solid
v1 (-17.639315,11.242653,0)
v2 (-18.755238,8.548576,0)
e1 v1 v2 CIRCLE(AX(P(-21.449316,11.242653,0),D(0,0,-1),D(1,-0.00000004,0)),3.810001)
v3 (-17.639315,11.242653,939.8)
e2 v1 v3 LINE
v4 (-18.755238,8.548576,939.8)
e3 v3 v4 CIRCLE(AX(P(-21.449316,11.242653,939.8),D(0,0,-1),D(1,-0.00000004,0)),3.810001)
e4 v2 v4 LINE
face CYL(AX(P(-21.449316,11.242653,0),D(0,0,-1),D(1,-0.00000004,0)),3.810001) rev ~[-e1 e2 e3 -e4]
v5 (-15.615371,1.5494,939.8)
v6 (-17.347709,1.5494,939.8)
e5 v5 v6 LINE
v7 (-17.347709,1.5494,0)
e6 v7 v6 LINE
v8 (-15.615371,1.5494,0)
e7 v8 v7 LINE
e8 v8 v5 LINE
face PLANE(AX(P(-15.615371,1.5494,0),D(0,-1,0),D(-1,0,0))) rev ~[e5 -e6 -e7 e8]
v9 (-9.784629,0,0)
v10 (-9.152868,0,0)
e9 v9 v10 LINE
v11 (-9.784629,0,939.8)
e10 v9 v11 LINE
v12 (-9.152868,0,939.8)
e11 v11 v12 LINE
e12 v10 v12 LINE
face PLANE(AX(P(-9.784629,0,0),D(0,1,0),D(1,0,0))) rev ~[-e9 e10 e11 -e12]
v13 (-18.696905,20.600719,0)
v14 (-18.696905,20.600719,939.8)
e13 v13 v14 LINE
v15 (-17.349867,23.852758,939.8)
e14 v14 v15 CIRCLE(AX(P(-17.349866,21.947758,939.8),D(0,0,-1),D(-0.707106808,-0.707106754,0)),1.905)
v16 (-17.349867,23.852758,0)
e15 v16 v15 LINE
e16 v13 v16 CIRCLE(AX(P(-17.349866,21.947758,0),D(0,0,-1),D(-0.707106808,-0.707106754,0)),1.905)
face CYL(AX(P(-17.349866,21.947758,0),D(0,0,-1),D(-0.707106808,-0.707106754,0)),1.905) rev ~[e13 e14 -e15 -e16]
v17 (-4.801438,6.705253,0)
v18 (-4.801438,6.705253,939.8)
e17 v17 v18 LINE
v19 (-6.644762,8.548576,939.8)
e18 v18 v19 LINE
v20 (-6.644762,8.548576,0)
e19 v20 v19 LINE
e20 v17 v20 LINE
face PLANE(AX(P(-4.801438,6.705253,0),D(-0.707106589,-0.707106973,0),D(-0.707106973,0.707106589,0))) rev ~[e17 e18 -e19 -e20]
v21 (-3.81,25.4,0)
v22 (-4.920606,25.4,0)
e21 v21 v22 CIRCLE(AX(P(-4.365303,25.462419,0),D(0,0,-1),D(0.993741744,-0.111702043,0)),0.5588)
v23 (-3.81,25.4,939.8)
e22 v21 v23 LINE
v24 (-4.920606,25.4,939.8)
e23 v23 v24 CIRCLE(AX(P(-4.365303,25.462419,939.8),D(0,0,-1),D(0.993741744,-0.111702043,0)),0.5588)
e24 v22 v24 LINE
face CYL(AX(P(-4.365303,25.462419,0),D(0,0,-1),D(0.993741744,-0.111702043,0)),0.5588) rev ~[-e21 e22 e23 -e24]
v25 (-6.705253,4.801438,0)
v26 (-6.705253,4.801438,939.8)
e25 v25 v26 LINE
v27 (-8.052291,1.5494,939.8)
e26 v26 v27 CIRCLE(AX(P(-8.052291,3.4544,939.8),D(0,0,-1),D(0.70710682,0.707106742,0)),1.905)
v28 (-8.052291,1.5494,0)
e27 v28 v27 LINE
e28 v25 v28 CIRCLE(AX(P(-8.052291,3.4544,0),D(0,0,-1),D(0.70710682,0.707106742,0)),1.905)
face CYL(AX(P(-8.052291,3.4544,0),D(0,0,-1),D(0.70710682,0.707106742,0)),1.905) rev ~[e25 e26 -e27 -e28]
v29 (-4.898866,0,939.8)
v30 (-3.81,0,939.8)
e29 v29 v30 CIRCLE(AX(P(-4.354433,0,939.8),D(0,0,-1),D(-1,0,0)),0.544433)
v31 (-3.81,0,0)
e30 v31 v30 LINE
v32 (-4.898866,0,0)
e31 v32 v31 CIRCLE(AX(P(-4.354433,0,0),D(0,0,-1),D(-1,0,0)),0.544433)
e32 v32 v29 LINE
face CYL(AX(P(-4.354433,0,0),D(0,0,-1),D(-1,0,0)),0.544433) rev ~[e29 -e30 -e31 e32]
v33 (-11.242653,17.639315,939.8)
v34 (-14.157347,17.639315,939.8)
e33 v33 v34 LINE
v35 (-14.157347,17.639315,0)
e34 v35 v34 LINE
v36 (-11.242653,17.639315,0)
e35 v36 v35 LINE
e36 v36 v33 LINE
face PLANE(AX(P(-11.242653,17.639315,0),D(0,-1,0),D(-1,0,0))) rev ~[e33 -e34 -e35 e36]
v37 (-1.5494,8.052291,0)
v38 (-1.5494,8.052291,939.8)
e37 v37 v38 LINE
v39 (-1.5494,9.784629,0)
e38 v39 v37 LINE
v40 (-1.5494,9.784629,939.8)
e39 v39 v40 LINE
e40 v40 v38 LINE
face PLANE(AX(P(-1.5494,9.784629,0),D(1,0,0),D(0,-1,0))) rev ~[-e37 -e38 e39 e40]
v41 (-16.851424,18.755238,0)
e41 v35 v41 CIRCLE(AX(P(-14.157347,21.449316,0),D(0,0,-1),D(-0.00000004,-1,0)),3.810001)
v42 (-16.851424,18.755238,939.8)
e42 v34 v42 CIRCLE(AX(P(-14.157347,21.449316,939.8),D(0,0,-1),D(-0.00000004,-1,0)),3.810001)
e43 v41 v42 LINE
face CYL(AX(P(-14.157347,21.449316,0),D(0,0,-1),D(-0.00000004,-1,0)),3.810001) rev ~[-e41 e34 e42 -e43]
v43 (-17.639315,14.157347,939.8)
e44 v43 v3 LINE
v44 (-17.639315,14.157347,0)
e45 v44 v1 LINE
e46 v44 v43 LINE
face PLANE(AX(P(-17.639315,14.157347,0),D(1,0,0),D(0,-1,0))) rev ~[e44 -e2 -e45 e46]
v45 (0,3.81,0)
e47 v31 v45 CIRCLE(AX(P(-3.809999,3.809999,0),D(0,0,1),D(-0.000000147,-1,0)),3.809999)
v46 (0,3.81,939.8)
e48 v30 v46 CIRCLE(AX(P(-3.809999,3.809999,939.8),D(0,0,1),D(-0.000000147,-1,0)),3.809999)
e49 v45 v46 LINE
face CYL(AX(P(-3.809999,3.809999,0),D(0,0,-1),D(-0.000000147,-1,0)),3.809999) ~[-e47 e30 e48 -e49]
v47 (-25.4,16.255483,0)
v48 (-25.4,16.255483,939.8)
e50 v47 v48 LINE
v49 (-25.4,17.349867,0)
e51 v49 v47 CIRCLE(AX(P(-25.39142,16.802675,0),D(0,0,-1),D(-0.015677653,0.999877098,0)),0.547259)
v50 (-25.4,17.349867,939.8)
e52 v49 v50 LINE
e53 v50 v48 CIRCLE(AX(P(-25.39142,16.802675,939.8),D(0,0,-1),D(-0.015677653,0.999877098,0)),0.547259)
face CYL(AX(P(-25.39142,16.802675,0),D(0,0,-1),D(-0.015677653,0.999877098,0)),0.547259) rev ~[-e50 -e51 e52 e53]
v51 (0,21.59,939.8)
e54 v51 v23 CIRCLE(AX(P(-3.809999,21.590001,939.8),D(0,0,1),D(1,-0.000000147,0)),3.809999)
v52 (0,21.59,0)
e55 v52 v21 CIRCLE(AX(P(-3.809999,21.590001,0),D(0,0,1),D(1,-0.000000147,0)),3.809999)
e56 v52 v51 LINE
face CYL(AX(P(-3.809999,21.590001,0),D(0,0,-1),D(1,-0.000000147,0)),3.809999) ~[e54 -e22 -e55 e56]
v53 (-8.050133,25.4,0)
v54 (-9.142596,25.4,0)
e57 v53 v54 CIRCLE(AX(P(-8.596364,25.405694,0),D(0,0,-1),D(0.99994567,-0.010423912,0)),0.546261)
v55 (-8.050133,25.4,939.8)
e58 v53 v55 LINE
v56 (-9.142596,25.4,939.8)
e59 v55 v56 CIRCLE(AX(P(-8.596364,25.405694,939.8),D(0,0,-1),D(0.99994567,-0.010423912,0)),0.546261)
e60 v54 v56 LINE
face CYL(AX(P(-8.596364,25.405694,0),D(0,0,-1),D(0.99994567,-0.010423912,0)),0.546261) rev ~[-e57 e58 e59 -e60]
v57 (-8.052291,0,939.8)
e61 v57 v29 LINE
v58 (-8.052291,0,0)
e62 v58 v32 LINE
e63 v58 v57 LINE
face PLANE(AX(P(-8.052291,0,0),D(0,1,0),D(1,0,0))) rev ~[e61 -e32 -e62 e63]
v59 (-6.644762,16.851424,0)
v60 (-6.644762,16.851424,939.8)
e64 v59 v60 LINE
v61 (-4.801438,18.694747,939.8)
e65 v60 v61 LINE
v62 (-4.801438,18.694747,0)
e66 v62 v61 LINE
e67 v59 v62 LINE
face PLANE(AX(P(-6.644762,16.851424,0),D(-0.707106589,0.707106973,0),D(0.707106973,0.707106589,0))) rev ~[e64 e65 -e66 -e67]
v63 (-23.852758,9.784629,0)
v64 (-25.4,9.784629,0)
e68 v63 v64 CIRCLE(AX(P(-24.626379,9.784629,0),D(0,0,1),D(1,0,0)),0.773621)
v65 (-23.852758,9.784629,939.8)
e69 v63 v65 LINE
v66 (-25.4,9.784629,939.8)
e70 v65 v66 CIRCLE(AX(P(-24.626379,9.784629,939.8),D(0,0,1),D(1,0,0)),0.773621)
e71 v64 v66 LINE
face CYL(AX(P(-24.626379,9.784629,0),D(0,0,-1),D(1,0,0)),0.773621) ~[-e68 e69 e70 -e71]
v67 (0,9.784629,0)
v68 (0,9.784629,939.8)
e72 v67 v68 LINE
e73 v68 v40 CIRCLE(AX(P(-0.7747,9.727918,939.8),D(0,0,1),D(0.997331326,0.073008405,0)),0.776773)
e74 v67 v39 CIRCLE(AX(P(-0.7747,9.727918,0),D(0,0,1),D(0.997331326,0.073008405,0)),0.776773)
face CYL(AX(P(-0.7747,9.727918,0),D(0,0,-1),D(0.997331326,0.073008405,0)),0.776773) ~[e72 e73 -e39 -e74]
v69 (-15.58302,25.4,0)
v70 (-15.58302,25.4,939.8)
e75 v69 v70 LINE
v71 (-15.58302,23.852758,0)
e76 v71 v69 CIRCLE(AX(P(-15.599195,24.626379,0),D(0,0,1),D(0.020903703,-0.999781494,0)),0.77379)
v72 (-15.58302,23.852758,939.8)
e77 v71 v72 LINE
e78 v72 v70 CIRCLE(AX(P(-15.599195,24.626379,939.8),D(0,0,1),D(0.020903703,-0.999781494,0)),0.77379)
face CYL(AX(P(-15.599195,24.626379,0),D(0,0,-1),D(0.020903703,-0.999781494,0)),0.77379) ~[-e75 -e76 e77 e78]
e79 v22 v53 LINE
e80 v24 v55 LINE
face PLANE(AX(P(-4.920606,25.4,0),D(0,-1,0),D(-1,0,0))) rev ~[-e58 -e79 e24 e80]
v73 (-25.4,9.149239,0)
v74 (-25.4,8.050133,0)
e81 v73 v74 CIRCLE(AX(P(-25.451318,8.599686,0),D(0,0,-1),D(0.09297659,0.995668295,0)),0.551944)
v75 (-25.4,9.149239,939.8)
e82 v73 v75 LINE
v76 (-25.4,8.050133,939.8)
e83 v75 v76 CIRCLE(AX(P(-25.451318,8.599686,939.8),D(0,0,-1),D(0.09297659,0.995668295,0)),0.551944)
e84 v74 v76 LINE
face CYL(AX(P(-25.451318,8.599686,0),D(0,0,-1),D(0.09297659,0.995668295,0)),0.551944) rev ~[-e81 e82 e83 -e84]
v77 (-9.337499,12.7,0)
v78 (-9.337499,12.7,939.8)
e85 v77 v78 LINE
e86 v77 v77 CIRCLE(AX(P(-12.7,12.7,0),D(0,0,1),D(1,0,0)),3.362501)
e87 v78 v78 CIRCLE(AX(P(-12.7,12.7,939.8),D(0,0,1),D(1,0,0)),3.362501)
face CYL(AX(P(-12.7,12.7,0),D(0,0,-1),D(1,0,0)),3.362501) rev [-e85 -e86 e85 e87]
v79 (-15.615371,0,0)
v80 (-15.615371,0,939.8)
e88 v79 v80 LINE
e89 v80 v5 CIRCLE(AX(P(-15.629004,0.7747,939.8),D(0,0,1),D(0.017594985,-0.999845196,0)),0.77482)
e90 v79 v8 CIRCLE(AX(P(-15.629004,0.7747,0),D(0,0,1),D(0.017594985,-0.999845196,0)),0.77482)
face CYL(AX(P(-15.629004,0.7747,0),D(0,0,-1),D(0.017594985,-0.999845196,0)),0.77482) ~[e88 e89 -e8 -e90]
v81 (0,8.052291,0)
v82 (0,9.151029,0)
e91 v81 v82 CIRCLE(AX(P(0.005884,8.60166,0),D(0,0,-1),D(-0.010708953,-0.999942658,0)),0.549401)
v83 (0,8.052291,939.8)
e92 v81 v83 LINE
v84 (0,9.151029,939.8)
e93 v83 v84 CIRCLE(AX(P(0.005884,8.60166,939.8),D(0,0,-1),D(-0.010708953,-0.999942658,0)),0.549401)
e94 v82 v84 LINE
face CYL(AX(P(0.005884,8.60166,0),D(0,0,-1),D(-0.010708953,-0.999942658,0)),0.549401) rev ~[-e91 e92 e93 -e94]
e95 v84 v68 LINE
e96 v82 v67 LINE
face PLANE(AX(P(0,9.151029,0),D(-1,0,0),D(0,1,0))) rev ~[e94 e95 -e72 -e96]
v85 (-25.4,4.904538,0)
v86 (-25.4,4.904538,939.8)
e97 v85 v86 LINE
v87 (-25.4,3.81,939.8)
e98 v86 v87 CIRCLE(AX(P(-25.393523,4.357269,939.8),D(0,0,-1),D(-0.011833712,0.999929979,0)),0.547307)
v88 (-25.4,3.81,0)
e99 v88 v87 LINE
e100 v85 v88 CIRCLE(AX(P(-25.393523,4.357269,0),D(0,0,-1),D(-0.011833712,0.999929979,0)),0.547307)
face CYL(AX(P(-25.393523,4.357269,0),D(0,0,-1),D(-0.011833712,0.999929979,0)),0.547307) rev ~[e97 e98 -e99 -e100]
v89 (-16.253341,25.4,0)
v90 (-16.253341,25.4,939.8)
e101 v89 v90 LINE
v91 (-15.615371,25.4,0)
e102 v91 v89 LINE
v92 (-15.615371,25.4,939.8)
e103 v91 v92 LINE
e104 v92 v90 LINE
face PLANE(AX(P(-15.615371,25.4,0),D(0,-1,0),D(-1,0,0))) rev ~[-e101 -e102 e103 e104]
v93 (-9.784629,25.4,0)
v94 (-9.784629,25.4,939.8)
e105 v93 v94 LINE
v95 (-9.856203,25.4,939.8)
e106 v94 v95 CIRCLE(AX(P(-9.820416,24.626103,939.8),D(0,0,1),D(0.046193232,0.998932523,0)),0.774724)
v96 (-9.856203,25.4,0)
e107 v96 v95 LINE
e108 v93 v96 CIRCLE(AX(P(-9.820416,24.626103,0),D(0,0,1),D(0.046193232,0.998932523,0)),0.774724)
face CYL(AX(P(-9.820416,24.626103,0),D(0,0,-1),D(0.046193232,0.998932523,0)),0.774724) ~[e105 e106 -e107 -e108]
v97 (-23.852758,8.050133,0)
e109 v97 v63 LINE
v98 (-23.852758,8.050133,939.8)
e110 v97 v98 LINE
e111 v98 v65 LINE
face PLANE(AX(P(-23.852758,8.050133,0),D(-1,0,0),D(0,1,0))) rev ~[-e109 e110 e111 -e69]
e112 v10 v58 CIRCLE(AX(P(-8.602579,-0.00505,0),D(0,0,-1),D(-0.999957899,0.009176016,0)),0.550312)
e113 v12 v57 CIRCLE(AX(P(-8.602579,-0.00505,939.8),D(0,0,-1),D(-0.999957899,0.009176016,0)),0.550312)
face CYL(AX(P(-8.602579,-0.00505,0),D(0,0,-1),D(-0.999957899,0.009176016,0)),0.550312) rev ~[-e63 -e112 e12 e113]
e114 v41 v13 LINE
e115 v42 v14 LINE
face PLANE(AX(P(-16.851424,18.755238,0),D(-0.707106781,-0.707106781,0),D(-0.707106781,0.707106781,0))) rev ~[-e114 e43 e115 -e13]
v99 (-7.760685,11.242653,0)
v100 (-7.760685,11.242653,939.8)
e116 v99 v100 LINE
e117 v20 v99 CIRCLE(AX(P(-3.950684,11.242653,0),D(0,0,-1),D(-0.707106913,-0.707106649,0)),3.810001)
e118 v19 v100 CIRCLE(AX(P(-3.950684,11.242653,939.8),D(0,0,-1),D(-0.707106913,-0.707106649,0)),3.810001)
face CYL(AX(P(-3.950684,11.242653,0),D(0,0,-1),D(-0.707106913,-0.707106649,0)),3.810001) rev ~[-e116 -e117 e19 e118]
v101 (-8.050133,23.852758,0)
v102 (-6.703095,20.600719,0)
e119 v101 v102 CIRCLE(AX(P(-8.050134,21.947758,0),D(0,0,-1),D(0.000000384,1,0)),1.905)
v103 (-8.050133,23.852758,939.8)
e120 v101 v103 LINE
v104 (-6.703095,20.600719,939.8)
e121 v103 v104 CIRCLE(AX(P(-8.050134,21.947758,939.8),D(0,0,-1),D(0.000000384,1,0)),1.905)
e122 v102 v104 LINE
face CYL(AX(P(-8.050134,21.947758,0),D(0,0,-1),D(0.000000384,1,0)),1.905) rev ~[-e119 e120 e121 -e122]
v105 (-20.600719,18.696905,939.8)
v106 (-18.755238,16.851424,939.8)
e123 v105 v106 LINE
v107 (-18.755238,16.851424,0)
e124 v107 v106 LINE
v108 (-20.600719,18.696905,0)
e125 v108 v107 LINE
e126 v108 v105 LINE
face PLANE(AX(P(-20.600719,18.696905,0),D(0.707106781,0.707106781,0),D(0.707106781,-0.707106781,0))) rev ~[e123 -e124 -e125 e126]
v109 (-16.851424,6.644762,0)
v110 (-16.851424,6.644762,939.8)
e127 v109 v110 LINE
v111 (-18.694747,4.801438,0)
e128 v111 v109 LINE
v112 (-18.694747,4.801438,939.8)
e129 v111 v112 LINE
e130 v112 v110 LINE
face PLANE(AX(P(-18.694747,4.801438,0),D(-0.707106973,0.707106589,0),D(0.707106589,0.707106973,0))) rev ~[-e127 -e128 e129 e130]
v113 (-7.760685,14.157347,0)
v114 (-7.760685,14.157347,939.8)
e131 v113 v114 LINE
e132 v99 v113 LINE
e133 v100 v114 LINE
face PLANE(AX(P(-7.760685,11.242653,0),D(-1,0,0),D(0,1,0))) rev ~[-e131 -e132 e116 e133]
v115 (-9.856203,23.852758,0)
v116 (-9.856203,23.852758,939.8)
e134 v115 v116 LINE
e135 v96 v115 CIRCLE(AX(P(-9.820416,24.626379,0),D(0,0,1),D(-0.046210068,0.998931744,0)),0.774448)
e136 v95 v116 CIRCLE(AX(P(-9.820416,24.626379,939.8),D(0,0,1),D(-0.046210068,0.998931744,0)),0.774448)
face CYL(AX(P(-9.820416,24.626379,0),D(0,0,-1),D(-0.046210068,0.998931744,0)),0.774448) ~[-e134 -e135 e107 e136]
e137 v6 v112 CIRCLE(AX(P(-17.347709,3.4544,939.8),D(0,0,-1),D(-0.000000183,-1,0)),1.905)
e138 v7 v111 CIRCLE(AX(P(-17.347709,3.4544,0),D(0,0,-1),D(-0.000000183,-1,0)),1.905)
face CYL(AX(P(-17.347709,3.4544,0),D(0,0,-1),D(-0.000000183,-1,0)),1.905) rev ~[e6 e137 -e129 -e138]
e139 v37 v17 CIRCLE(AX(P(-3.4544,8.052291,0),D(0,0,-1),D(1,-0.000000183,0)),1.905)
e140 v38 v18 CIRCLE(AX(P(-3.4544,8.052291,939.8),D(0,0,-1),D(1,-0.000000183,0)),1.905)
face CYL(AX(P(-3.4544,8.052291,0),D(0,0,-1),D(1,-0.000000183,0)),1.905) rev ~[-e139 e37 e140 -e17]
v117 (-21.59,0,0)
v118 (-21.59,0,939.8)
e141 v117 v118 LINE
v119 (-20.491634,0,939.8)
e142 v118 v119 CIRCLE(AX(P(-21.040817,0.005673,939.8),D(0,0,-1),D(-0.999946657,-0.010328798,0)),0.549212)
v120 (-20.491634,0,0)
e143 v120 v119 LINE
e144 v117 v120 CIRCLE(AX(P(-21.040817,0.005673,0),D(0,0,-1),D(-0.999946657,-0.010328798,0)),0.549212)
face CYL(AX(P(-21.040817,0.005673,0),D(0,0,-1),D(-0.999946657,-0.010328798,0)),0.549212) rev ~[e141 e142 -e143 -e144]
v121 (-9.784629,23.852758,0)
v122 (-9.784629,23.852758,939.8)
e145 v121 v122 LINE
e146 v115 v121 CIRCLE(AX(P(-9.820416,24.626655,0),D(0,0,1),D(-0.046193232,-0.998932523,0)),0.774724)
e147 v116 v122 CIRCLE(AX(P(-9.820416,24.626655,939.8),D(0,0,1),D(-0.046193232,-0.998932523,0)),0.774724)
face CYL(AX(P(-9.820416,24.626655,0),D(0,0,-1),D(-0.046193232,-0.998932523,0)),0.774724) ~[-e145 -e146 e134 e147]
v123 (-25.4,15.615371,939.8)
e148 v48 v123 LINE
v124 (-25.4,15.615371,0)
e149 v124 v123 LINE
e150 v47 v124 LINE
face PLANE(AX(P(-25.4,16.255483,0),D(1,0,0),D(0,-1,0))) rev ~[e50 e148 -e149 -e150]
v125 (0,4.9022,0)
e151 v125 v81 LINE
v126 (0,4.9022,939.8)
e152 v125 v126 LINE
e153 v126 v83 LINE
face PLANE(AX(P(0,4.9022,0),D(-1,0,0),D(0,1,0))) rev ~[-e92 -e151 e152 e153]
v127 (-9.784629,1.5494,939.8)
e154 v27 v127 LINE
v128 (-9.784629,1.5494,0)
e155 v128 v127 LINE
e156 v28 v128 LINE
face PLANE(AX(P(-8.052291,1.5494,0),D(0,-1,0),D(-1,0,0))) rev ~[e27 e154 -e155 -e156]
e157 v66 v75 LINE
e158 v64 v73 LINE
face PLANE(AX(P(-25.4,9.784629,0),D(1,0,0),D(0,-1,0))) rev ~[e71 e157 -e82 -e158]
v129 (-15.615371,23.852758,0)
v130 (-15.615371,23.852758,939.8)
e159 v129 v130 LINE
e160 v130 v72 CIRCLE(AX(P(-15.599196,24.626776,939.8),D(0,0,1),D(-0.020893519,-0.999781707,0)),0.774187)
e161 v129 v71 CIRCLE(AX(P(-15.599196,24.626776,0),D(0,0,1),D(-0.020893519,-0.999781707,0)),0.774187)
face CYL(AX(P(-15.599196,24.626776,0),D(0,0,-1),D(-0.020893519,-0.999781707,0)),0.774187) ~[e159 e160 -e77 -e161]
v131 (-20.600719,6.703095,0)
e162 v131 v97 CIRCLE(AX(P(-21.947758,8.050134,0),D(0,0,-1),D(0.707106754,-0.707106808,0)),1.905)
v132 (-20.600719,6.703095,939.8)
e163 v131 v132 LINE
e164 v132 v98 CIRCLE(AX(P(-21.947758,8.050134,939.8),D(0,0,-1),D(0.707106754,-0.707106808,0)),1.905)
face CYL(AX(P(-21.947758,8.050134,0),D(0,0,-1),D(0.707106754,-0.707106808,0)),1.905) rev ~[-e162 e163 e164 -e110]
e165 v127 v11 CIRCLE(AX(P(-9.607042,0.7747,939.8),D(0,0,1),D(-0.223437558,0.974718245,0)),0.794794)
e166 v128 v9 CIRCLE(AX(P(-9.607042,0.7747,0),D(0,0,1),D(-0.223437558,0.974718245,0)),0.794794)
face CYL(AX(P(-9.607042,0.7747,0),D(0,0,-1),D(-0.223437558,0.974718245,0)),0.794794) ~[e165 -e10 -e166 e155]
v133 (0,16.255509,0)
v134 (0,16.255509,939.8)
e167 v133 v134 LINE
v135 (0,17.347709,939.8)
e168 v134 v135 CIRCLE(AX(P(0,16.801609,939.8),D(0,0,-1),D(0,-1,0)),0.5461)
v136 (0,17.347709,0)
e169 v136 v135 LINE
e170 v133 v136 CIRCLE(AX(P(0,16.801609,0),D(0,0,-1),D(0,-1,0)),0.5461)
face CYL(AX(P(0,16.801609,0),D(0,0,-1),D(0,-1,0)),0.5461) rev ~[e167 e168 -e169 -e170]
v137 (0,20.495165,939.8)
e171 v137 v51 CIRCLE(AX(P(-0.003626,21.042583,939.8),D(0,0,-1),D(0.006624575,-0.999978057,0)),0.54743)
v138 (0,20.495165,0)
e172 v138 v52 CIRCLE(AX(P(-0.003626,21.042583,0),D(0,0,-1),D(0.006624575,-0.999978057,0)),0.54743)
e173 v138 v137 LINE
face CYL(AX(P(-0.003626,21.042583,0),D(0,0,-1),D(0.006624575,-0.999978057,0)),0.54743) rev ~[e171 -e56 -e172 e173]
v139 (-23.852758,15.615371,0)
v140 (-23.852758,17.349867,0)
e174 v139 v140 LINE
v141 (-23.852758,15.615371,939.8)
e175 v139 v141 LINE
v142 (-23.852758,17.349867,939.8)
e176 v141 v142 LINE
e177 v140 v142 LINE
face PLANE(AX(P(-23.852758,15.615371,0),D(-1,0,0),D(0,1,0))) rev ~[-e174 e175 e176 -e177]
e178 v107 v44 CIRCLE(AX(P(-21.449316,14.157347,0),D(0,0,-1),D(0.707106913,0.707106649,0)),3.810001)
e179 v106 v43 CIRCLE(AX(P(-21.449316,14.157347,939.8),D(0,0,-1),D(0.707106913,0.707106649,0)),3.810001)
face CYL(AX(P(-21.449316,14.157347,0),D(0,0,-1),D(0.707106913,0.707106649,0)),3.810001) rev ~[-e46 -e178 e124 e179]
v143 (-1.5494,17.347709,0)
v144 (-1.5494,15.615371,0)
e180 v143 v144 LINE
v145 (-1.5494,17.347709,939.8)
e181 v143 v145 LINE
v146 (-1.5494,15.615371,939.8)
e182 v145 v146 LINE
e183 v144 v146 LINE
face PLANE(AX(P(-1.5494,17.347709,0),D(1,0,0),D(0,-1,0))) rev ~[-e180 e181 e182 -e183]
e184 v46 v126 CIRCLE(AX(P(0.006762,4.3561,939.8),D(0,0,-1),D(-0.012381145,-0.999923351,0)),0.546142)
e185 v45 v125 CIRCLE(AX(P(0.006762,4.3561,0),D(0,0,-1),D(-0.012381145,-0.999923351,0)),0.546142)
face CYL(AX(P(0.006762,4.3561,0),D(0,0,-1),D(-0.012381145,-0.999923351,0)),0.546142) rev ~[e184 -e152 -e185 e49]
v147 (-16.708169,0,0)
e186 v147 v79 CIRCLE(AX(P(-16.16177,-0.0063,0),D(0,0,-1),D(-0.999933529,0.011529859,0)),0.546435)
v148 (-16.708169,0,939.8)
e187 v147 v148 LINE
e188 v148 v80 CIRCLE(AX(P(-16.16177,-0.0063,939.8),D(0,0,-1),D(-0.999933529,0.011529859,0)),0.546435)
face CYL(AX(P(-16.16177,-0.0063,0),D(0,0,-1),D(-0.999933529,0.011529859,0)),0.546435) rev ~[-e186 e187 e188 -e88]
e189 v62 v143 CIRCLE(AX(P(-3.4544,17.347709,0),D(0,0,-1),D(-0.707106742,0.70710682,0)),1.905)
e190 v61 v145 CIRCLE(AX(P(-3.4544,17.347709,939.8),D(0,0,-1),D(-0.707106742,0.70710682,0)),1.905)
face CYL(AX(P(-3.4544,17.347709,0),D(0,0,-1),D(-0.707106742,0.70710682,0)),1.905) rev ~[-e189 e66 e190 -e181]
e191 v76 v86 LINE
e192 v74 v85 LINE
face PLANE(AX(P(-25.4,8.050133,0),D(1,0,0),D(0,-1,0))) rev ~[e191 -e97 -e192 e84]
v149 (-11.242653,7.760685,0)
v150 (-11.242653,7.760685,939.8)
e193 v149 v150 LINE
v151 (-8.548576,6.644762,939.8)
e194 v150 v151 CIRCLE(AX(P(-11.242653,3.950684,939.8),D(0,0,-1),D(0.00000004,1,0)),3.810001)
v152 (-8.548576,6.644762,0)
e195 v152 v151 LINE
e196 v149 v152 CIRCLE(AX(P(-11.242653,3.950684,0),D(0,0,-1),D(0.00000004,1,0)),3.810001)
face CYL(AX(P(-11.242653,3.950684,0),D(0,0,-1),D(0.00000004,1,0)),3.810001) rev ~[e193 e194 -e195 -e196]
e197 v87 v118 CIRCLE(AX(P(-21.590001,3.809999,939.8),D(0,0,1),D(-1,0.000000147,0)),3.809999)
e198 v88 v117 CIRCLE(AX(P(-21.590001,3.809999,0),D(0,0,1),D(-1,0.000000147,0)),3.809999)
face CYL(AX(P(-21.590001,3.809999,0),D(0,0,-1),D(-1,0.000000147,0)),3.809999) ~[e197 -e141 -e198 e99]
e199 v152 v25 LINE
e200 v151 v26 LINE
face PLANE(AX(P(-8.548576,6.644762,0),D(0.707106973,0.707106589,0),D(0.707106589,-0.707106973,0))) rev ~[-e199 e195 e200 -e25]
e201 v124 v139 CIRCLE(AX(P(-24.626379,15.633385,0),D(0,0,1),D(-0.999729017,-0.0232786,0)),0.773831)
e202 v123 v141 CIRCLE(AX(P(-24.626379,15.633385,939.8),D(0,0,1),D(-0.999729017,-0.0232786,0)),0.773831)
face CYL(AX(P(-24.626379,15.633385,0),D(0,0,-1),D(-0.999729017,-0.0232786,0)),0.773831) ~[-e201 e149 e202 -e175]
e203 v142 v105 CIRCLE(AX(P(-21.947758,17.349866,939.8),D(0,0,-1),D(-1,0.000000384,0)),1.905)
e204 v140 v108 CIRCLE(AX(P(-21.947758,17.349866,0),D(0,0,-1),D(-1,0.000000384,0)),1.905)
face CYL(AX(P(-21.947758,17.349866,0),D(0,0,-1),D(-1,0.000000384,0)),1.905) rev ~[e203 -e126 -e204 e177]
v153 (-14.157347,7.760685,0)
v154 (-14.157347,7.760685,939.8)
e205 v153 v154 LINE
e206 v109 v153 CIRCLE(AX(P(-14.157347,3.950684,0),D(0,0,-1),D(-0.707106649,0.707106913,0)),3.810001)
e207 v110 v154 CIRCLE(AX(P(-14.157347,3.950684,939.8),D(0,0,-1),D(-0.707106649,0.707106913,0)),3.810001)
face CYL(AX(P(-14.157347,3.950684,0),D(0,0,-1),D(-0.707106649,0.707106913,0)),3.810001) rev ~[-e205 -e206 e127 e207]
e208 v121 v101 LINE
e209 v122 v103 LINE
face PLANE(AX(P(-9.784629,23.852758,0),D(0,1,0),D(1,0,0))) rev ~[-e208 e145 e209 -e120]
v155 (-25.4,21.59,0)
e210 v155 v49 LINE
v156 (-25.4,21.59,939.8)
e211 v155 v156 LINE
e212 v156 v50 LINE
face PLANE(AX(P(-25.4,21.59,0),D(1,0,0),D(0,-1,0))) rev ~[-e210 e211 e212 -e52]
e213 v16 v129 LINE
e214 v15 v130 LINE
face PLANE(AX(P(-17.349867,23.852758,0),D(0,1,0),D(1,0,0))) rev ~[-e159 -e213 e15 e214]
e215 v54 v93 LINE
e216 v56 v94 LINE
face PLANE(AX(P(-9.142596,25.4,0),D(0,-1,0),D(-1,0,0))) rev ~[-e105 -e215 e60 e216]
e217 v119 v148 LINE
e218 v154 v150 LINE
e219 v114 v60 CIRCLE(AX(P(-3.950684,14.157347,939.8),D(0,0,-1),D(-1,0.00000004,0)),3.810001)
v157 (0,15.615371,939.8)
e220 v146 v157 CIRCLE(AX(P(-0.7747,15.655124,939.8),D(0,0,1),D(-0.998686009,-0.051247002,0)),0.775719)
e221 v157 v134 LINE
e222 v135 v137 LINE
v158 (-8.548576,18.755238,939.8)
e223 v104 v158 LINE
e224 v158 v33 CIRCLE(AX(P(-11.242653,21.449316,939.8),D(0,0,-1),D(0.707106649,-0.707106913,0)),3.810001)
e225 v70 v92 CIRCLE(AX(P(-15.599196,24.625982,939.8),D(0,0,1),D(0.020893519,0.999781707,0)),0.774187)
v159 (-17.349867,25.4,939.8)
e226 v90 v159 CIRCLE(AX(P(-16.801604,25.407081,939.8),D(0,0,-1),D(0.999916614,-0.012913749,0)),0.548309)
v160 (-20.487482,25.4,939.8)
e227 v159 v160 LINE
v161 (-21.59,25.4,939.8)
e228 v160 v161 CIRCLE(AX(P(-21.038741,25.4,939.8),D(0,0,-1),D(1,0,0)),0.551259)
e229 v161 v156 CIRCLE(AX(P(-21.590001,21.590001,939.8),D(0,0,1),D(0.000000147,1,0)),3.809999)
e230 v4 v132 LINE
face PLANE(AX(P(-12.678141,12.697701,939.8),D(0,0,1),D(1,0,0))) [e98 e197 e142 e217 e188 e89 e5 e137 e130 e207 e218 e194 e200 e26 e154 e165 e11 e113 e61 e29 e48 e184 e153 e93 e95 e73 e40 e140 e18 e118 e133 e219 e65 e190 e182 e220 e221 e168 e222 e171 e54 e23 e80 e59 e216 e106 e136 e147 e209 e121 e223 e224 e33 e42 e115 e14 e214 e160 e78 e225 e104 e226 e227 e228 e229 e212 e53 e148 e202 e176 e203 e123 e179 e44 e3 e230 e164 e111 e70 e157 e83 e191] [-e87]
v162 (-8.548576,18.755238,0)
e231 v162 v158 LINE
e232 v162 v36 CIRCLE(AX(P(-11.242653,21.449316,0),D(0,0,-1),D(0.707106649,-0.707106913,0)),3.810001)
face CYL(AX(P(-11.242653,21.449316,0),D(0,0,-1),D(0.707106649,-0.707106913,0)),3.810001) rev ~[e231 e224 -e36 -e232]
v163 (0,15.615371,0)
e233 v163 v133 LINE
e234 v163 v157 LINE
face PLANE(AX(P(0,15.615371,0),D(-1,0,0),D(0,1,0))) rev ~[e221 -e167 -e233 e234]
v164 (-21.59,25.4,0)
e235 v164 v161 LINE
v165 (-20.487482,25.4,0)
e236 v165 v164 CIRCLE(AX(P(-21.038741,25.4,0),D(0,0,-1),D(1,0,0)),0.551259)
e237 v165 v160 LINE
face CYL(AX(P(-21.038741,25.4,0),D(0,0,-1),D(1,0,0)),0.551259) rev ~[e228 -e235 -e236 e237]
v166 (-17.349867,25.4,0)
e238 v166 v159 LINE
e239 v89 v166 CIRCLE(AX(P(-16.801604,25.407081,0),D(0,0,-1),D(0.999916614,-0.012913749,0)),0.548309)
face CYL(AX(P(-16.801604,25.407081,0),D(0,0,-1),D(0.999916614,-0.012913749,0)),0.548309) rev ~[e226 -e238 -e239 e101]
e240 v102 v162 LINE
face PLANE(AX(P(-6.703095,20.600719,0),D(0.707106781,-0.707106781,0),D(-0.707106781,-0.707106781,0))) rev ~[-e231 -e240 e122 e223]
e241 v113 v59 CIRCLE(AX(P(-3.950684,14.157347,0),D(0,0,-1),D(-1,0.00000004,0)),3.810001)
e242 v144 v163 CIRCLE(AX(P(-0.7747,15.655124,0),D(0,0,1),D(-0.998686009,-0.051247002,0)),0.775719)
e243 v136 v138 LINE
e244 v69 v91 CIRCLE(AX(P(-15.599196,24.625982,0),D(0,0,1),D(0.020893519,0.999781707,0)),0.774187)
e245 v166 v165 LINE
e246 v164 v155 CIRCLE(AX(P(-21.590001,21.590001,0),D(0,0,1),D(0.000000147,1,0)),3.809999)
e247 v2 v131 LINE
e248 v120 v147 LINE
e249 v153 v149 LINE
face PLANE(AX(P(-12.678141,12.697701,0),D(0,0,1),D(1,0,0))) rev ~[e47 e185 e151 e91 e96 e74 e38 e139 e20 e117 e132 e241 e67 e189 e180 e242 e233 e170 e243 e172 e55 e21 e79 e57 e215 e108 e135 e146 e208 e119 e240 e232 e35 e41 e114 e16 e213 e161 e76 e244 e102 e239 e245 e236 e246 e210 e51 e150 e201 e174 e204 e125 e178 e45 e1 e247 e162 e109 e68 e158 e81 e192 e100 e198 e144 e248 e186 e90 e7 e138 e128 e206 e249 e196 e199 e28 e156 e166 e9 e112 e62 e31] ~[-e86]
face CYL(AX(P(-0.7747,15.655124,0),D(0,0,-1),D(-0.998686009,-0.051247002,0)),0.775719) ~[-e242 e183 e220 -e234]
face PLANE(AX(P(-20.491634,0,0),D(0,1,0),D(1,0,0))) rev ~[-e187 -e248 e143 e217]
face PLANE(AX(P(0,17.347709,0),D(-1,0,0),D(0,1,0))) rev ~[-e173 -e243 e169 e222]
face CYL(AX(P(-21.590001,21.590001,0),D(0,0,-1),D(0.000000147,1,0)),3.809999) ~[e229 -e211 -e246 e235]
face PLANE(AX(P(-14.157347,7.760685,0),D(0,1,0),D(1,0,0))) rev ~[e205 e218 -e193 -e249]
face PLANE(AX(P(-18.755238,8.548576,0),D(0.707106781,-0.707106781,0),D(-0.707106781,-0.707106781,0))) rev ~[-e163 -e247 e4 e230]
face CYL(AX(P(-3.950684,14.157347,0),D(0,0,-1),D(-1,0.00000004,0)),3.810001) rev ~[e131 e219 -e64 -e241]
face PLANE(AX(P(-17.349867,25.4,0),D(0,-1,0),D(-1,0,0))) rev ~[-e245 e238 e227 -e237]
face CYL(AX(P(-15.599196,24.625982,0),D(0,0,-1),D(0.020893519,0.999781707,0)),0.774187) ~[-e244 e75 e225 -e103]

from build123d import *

# Parameters (mm, degrees)
F0_R     = 3.362501
F1_DEPTH = 939.8


with BuildPart() as f1:
    # F0 (on Top) → F1 (new body)
    with BuildSketch(Plane.XY):
        with BuildLine():
            ThreePointArc((-8.548576, 18.755238), (-9.784629, 17.929334), (-11.242653, 17.639315))
            Line((-11.242653, 17.639315), (-14.157347, 17.639315))
            ThreePointArc((-14.157347, 17.639315), (-15.615371, 17.929334), (-16.851424, 18.755238))
            Line((-16.851424, 18.755238), (-18.696905, 20.600719))
            ThreePointArc((-18.696905, 20.600719), (-19.109857, 22.67677), (-17.349867, 23.852758))
            Line((-17.349867, 23.852758), (-15.615371, 23.852758))
            Line((-15.615371, 23.852758), (-15.58302, 23.852758))
            ThreePointArc((-15.58302, 23.852758), (-14.825405, 24.626379), (-15.58302, 25.4))
            Line((-15.58302, 25.4), (-15.615371, 25.4))
            Line((-15.615371, 25.4), (-16.253341, 25.4))
            ThreePointArc((-16.253341, 25.4), (-16.801604, 24.858772), (-17.349867, 25.4))
            Line((-17.349867, 25.4), (-20.487482, 25.4))
            ThreePointArc((-20.487482, 25.4), (-21.038741, 24.848741), (-21.59, 25.4))
            ThreePointArc((-21.59, 25.4), (-24.284077, 24.284077), (-25.4, 21.59))
            Line((-25.4, 21.59), (-25.4, 20.504724))
            Line((-25.4, 20.504724), (-25.4, 17.349867))
            ThreePointArc((-25.4, 17.349867), (-24.844161, 16.802675), (-25.4, 16.255483))
            Line((-25.4, 16.255483), (-25.4, 15.615371))
            ThreePointArc((-25.4, 15.615371), (-24.626379, 14.859554), (-23.852758, 15.615371))
            Line((-23.852758, 15.615371), (-23.852758, 17.349867))
            ThreePointArc((-23.852758, 17.349867), (-22.67677, 19.109857), (-20.600719, 18.696905))
            Line((-20.600719, 18.696905), (-18.755238, 16.851424))
            ThreePointArc((-18.755238, 16.851424), (-17.929334, 15.615371), (-17.639315, 14.157347))
            Line((-17.639315, 14.157347), (-17.639315, 11.242653))
            ThreePointArc((-17.639315, 11.242653), (-17.929334, 9.784629), (-18.755238, 8.548576))
            Line((-18.755238, 8.548576), (-20.600719, 6.703095))
            ThreePointArc((-20.600719, 6.703095), (-22.67677, 6.290143), (-23.852758, 8.050133))
            Line((-23.852758, 8.050133), (-23.852758, 9.784629))
            ThreePointArc((-23.852758, 9.784629), (-24.626379, 10.55825), (-25.4, 9.784629))
            Line((-25.4, 9.784629), (-25.4, 9.149239))
            ThreePointArc((-25.4, 9.149239), (-24.899374, 8.599686), (-25.4, 8.050133))
            Line((-25.4, 8.050133), (-25.4, 4.904538))
            ThreePointArc((-25.4, 4.904538), (-24.846216, 4.357269), (-25.4, 3.81))
            ThreePointArc((-25.4, 3.81), (-24.284077, 1.115923), (-21.59, 0))
            ThreePointArc((-21.59, 0), (-21.040817, 0.554885), (-20.491634, 0))
            Line((-20.491634, 0), (-16.708169, 0))
            ThreePointArc((-16.708169, 0), (-16.16177, 0.540135), (-15.615371, 0))
            ThreePointArc((-15.615371, 0), (-14.854184, 0.7747), (-15.615371, 1.5494))
            Line((-15.615371, 1.5494), (-17.347709, 1.5494))
            ThreePointArc((-17.347709, 1.5494), (-19.107699, 2.725388), (-18.694747, 4.801438))
            Line((-18.694747, 4.801438), (-16.851424, 6.644762))
            ThreePointArc((-16.851424, 6.644762), (-15.615371, 7.470666), (-14.157347, 7.760685))
            Line((-14.157347, 7.760685), (-11.242653, 7.760685))
            ThreePointArc((-11.242653, 7.760685), (-9.784629, 7.470666), (-8.548576, 6.644762))
            Line((-8.548576, 6.644762), (-6.705253, 4.801438))
            ThreePointArc((-6.705253, 4.801438), (-6.292301, 2.725388), (-8.052291, 1.5494))
            Line((-8.052291, 1.5494), (-9.784629, 1.5494))
            ThreePointArc((-9.784629, 1.5494), (-10.401836, 0.7747), (-9.784629, 0))
            Line((-9.784629, 0), (-9.152868, 0))
            ThreePointArc((-9.152868, 0), (-8.602579, 0.545262), (-8.052291, 0))
            Line((-8.052291, 0), (-4.898866, 0))
            ThreePointArc((-4.898866, 0), (-4.354433, 0.544433), (-3.81, 0))
            ThreePointArc((-3.81, 0), (-1.115923, 1.115923), (0, 3.81))
            ThreePointArc((0, 3.81), (-0.53938, 4.3561), (0, 4.9022))
            Line((0, 4.9022), (0, 8.052291))
            ThreePointArc((0, 8.052291), (-0.543517, 8.60166), (0, 9.151029))
            Line((0, 9.151029), (0, 9.784629))
            ThreePointArc((0, 9.784629), (-0.7747, 10.504691), (-1.5494, 9.784629))
            Line((-1.5494, 9.784629), (-1.5494, 8.052291))
            ThreePointArc((-1.5494, 8.052291), (-2.725388, 6.292301), (-4.801438, 6.705253))
            Line((-4.801438, 6.705253), (-6.644762, 8.548576))
            ThreePointArc((-6.644762, 8.548576), (-7.470666, 9.784629), (-7.760685, 11.242653))
            Line((-7.760685, 11.242653), (-7.760685, 14.157347))
            ThreePointArc((-7.760685, 14.157347), (-7.470666, 15.615371), (-6.644762, 16.851424))
            Line((-6.644762, 16.851424), (-4.801438, 18.694747))
            ThreePointArc((-4.801438, 18.694747), (-2.725388, 19.107699), (-1.5494, 17.347709))
            Line((-1.5494, 17.347709), (-1.5494, 15.615371))
            ThreePointArc((-1.5494, 15.615371), (-0.7747, 14.879405), (0, 15.615371))
            Line((0, 15.615371), (0, 16.255509))
            ThreePointArc((0, 16.255509), (-0.5461, 16.801609), (0, 17.347709))
            Line((0, 17.347709), (0, 20.495165))
            ThreePointArc((0, 20.495165), (-0.551056, 21.042583), (0, 21.59))
            ThreePointArc((0, 21.59), (-1.115923, 24.284077), (-3.81, 25.4))
            ThreePointArc((-3.81, 25.4), (-4.365303, 24.903619), (-4.920606, 25.4))
            Line((-4.920606, 25.4), (-8.050133, 25.4))
            ThreePointArc((-8.050133, 25.4), (-8.596365, 24.859433), (-9.142596, 25.4))
            Line((-9.142596, 25.4), (-9.784629, 25.4))
            Line((-9.784629, 25.4), (-9.856203, 25.4))
            ThreePointArc((-9.856203, 25.4), (-10.594864, 24.626379), (-9.856203, 23.852758))
            Line((-9.856203, 23.852758), (-9.784629, 23.852758))
            Line((-9.784629, 23.852758), (-8.050133, 23.852758))
            ThreePointArc((-8.050133, 23.852758), (-6.290143, 22.67677), (-6.703095, 20.600719))
            Line((-6.703095, 20.600719), (-8.548576, 18.755238))
        make_face()
        with Locations((-12.7, 12.7)):
            Circle(F0_R, mode=Mode.SUBTRACT)
        with BuildLine():
            ThreePointArc((-9.856203, 23.852758), (-9.820416, 23.851931), (-9.784629, 23.852758))
            Line((-9.784629, 23.852758), (-9.856203, 23.852758))
        make_face()
        with BuildLine():
            Line((-15.58302, 23.852758), (-15.615371, 23.852758))
            ThreePointArc((-15.615371, 23.852758), (-15.599195, 23.852589), (-15.58302, 23.852758))
        make_face()
        with BuildLine():
            ThreePointArc((-9.784629, 25.4), (-9.820416, 25.400827), (-9.856203, 25.4))
            Line((-9.856203, 25.4), (-9.784629, 25.4))
        make_face()
        with BuildLine():
            Line((-15.615371, 25.4), (-15.58302, 25.4))
            ThreePointArc((-15.58302, 25.4), (-15.599195, 25.400169), (-15.615371, 25.4))
        make_face()
    extrude(amount=F1_DEPTH)


solid = f1.part
